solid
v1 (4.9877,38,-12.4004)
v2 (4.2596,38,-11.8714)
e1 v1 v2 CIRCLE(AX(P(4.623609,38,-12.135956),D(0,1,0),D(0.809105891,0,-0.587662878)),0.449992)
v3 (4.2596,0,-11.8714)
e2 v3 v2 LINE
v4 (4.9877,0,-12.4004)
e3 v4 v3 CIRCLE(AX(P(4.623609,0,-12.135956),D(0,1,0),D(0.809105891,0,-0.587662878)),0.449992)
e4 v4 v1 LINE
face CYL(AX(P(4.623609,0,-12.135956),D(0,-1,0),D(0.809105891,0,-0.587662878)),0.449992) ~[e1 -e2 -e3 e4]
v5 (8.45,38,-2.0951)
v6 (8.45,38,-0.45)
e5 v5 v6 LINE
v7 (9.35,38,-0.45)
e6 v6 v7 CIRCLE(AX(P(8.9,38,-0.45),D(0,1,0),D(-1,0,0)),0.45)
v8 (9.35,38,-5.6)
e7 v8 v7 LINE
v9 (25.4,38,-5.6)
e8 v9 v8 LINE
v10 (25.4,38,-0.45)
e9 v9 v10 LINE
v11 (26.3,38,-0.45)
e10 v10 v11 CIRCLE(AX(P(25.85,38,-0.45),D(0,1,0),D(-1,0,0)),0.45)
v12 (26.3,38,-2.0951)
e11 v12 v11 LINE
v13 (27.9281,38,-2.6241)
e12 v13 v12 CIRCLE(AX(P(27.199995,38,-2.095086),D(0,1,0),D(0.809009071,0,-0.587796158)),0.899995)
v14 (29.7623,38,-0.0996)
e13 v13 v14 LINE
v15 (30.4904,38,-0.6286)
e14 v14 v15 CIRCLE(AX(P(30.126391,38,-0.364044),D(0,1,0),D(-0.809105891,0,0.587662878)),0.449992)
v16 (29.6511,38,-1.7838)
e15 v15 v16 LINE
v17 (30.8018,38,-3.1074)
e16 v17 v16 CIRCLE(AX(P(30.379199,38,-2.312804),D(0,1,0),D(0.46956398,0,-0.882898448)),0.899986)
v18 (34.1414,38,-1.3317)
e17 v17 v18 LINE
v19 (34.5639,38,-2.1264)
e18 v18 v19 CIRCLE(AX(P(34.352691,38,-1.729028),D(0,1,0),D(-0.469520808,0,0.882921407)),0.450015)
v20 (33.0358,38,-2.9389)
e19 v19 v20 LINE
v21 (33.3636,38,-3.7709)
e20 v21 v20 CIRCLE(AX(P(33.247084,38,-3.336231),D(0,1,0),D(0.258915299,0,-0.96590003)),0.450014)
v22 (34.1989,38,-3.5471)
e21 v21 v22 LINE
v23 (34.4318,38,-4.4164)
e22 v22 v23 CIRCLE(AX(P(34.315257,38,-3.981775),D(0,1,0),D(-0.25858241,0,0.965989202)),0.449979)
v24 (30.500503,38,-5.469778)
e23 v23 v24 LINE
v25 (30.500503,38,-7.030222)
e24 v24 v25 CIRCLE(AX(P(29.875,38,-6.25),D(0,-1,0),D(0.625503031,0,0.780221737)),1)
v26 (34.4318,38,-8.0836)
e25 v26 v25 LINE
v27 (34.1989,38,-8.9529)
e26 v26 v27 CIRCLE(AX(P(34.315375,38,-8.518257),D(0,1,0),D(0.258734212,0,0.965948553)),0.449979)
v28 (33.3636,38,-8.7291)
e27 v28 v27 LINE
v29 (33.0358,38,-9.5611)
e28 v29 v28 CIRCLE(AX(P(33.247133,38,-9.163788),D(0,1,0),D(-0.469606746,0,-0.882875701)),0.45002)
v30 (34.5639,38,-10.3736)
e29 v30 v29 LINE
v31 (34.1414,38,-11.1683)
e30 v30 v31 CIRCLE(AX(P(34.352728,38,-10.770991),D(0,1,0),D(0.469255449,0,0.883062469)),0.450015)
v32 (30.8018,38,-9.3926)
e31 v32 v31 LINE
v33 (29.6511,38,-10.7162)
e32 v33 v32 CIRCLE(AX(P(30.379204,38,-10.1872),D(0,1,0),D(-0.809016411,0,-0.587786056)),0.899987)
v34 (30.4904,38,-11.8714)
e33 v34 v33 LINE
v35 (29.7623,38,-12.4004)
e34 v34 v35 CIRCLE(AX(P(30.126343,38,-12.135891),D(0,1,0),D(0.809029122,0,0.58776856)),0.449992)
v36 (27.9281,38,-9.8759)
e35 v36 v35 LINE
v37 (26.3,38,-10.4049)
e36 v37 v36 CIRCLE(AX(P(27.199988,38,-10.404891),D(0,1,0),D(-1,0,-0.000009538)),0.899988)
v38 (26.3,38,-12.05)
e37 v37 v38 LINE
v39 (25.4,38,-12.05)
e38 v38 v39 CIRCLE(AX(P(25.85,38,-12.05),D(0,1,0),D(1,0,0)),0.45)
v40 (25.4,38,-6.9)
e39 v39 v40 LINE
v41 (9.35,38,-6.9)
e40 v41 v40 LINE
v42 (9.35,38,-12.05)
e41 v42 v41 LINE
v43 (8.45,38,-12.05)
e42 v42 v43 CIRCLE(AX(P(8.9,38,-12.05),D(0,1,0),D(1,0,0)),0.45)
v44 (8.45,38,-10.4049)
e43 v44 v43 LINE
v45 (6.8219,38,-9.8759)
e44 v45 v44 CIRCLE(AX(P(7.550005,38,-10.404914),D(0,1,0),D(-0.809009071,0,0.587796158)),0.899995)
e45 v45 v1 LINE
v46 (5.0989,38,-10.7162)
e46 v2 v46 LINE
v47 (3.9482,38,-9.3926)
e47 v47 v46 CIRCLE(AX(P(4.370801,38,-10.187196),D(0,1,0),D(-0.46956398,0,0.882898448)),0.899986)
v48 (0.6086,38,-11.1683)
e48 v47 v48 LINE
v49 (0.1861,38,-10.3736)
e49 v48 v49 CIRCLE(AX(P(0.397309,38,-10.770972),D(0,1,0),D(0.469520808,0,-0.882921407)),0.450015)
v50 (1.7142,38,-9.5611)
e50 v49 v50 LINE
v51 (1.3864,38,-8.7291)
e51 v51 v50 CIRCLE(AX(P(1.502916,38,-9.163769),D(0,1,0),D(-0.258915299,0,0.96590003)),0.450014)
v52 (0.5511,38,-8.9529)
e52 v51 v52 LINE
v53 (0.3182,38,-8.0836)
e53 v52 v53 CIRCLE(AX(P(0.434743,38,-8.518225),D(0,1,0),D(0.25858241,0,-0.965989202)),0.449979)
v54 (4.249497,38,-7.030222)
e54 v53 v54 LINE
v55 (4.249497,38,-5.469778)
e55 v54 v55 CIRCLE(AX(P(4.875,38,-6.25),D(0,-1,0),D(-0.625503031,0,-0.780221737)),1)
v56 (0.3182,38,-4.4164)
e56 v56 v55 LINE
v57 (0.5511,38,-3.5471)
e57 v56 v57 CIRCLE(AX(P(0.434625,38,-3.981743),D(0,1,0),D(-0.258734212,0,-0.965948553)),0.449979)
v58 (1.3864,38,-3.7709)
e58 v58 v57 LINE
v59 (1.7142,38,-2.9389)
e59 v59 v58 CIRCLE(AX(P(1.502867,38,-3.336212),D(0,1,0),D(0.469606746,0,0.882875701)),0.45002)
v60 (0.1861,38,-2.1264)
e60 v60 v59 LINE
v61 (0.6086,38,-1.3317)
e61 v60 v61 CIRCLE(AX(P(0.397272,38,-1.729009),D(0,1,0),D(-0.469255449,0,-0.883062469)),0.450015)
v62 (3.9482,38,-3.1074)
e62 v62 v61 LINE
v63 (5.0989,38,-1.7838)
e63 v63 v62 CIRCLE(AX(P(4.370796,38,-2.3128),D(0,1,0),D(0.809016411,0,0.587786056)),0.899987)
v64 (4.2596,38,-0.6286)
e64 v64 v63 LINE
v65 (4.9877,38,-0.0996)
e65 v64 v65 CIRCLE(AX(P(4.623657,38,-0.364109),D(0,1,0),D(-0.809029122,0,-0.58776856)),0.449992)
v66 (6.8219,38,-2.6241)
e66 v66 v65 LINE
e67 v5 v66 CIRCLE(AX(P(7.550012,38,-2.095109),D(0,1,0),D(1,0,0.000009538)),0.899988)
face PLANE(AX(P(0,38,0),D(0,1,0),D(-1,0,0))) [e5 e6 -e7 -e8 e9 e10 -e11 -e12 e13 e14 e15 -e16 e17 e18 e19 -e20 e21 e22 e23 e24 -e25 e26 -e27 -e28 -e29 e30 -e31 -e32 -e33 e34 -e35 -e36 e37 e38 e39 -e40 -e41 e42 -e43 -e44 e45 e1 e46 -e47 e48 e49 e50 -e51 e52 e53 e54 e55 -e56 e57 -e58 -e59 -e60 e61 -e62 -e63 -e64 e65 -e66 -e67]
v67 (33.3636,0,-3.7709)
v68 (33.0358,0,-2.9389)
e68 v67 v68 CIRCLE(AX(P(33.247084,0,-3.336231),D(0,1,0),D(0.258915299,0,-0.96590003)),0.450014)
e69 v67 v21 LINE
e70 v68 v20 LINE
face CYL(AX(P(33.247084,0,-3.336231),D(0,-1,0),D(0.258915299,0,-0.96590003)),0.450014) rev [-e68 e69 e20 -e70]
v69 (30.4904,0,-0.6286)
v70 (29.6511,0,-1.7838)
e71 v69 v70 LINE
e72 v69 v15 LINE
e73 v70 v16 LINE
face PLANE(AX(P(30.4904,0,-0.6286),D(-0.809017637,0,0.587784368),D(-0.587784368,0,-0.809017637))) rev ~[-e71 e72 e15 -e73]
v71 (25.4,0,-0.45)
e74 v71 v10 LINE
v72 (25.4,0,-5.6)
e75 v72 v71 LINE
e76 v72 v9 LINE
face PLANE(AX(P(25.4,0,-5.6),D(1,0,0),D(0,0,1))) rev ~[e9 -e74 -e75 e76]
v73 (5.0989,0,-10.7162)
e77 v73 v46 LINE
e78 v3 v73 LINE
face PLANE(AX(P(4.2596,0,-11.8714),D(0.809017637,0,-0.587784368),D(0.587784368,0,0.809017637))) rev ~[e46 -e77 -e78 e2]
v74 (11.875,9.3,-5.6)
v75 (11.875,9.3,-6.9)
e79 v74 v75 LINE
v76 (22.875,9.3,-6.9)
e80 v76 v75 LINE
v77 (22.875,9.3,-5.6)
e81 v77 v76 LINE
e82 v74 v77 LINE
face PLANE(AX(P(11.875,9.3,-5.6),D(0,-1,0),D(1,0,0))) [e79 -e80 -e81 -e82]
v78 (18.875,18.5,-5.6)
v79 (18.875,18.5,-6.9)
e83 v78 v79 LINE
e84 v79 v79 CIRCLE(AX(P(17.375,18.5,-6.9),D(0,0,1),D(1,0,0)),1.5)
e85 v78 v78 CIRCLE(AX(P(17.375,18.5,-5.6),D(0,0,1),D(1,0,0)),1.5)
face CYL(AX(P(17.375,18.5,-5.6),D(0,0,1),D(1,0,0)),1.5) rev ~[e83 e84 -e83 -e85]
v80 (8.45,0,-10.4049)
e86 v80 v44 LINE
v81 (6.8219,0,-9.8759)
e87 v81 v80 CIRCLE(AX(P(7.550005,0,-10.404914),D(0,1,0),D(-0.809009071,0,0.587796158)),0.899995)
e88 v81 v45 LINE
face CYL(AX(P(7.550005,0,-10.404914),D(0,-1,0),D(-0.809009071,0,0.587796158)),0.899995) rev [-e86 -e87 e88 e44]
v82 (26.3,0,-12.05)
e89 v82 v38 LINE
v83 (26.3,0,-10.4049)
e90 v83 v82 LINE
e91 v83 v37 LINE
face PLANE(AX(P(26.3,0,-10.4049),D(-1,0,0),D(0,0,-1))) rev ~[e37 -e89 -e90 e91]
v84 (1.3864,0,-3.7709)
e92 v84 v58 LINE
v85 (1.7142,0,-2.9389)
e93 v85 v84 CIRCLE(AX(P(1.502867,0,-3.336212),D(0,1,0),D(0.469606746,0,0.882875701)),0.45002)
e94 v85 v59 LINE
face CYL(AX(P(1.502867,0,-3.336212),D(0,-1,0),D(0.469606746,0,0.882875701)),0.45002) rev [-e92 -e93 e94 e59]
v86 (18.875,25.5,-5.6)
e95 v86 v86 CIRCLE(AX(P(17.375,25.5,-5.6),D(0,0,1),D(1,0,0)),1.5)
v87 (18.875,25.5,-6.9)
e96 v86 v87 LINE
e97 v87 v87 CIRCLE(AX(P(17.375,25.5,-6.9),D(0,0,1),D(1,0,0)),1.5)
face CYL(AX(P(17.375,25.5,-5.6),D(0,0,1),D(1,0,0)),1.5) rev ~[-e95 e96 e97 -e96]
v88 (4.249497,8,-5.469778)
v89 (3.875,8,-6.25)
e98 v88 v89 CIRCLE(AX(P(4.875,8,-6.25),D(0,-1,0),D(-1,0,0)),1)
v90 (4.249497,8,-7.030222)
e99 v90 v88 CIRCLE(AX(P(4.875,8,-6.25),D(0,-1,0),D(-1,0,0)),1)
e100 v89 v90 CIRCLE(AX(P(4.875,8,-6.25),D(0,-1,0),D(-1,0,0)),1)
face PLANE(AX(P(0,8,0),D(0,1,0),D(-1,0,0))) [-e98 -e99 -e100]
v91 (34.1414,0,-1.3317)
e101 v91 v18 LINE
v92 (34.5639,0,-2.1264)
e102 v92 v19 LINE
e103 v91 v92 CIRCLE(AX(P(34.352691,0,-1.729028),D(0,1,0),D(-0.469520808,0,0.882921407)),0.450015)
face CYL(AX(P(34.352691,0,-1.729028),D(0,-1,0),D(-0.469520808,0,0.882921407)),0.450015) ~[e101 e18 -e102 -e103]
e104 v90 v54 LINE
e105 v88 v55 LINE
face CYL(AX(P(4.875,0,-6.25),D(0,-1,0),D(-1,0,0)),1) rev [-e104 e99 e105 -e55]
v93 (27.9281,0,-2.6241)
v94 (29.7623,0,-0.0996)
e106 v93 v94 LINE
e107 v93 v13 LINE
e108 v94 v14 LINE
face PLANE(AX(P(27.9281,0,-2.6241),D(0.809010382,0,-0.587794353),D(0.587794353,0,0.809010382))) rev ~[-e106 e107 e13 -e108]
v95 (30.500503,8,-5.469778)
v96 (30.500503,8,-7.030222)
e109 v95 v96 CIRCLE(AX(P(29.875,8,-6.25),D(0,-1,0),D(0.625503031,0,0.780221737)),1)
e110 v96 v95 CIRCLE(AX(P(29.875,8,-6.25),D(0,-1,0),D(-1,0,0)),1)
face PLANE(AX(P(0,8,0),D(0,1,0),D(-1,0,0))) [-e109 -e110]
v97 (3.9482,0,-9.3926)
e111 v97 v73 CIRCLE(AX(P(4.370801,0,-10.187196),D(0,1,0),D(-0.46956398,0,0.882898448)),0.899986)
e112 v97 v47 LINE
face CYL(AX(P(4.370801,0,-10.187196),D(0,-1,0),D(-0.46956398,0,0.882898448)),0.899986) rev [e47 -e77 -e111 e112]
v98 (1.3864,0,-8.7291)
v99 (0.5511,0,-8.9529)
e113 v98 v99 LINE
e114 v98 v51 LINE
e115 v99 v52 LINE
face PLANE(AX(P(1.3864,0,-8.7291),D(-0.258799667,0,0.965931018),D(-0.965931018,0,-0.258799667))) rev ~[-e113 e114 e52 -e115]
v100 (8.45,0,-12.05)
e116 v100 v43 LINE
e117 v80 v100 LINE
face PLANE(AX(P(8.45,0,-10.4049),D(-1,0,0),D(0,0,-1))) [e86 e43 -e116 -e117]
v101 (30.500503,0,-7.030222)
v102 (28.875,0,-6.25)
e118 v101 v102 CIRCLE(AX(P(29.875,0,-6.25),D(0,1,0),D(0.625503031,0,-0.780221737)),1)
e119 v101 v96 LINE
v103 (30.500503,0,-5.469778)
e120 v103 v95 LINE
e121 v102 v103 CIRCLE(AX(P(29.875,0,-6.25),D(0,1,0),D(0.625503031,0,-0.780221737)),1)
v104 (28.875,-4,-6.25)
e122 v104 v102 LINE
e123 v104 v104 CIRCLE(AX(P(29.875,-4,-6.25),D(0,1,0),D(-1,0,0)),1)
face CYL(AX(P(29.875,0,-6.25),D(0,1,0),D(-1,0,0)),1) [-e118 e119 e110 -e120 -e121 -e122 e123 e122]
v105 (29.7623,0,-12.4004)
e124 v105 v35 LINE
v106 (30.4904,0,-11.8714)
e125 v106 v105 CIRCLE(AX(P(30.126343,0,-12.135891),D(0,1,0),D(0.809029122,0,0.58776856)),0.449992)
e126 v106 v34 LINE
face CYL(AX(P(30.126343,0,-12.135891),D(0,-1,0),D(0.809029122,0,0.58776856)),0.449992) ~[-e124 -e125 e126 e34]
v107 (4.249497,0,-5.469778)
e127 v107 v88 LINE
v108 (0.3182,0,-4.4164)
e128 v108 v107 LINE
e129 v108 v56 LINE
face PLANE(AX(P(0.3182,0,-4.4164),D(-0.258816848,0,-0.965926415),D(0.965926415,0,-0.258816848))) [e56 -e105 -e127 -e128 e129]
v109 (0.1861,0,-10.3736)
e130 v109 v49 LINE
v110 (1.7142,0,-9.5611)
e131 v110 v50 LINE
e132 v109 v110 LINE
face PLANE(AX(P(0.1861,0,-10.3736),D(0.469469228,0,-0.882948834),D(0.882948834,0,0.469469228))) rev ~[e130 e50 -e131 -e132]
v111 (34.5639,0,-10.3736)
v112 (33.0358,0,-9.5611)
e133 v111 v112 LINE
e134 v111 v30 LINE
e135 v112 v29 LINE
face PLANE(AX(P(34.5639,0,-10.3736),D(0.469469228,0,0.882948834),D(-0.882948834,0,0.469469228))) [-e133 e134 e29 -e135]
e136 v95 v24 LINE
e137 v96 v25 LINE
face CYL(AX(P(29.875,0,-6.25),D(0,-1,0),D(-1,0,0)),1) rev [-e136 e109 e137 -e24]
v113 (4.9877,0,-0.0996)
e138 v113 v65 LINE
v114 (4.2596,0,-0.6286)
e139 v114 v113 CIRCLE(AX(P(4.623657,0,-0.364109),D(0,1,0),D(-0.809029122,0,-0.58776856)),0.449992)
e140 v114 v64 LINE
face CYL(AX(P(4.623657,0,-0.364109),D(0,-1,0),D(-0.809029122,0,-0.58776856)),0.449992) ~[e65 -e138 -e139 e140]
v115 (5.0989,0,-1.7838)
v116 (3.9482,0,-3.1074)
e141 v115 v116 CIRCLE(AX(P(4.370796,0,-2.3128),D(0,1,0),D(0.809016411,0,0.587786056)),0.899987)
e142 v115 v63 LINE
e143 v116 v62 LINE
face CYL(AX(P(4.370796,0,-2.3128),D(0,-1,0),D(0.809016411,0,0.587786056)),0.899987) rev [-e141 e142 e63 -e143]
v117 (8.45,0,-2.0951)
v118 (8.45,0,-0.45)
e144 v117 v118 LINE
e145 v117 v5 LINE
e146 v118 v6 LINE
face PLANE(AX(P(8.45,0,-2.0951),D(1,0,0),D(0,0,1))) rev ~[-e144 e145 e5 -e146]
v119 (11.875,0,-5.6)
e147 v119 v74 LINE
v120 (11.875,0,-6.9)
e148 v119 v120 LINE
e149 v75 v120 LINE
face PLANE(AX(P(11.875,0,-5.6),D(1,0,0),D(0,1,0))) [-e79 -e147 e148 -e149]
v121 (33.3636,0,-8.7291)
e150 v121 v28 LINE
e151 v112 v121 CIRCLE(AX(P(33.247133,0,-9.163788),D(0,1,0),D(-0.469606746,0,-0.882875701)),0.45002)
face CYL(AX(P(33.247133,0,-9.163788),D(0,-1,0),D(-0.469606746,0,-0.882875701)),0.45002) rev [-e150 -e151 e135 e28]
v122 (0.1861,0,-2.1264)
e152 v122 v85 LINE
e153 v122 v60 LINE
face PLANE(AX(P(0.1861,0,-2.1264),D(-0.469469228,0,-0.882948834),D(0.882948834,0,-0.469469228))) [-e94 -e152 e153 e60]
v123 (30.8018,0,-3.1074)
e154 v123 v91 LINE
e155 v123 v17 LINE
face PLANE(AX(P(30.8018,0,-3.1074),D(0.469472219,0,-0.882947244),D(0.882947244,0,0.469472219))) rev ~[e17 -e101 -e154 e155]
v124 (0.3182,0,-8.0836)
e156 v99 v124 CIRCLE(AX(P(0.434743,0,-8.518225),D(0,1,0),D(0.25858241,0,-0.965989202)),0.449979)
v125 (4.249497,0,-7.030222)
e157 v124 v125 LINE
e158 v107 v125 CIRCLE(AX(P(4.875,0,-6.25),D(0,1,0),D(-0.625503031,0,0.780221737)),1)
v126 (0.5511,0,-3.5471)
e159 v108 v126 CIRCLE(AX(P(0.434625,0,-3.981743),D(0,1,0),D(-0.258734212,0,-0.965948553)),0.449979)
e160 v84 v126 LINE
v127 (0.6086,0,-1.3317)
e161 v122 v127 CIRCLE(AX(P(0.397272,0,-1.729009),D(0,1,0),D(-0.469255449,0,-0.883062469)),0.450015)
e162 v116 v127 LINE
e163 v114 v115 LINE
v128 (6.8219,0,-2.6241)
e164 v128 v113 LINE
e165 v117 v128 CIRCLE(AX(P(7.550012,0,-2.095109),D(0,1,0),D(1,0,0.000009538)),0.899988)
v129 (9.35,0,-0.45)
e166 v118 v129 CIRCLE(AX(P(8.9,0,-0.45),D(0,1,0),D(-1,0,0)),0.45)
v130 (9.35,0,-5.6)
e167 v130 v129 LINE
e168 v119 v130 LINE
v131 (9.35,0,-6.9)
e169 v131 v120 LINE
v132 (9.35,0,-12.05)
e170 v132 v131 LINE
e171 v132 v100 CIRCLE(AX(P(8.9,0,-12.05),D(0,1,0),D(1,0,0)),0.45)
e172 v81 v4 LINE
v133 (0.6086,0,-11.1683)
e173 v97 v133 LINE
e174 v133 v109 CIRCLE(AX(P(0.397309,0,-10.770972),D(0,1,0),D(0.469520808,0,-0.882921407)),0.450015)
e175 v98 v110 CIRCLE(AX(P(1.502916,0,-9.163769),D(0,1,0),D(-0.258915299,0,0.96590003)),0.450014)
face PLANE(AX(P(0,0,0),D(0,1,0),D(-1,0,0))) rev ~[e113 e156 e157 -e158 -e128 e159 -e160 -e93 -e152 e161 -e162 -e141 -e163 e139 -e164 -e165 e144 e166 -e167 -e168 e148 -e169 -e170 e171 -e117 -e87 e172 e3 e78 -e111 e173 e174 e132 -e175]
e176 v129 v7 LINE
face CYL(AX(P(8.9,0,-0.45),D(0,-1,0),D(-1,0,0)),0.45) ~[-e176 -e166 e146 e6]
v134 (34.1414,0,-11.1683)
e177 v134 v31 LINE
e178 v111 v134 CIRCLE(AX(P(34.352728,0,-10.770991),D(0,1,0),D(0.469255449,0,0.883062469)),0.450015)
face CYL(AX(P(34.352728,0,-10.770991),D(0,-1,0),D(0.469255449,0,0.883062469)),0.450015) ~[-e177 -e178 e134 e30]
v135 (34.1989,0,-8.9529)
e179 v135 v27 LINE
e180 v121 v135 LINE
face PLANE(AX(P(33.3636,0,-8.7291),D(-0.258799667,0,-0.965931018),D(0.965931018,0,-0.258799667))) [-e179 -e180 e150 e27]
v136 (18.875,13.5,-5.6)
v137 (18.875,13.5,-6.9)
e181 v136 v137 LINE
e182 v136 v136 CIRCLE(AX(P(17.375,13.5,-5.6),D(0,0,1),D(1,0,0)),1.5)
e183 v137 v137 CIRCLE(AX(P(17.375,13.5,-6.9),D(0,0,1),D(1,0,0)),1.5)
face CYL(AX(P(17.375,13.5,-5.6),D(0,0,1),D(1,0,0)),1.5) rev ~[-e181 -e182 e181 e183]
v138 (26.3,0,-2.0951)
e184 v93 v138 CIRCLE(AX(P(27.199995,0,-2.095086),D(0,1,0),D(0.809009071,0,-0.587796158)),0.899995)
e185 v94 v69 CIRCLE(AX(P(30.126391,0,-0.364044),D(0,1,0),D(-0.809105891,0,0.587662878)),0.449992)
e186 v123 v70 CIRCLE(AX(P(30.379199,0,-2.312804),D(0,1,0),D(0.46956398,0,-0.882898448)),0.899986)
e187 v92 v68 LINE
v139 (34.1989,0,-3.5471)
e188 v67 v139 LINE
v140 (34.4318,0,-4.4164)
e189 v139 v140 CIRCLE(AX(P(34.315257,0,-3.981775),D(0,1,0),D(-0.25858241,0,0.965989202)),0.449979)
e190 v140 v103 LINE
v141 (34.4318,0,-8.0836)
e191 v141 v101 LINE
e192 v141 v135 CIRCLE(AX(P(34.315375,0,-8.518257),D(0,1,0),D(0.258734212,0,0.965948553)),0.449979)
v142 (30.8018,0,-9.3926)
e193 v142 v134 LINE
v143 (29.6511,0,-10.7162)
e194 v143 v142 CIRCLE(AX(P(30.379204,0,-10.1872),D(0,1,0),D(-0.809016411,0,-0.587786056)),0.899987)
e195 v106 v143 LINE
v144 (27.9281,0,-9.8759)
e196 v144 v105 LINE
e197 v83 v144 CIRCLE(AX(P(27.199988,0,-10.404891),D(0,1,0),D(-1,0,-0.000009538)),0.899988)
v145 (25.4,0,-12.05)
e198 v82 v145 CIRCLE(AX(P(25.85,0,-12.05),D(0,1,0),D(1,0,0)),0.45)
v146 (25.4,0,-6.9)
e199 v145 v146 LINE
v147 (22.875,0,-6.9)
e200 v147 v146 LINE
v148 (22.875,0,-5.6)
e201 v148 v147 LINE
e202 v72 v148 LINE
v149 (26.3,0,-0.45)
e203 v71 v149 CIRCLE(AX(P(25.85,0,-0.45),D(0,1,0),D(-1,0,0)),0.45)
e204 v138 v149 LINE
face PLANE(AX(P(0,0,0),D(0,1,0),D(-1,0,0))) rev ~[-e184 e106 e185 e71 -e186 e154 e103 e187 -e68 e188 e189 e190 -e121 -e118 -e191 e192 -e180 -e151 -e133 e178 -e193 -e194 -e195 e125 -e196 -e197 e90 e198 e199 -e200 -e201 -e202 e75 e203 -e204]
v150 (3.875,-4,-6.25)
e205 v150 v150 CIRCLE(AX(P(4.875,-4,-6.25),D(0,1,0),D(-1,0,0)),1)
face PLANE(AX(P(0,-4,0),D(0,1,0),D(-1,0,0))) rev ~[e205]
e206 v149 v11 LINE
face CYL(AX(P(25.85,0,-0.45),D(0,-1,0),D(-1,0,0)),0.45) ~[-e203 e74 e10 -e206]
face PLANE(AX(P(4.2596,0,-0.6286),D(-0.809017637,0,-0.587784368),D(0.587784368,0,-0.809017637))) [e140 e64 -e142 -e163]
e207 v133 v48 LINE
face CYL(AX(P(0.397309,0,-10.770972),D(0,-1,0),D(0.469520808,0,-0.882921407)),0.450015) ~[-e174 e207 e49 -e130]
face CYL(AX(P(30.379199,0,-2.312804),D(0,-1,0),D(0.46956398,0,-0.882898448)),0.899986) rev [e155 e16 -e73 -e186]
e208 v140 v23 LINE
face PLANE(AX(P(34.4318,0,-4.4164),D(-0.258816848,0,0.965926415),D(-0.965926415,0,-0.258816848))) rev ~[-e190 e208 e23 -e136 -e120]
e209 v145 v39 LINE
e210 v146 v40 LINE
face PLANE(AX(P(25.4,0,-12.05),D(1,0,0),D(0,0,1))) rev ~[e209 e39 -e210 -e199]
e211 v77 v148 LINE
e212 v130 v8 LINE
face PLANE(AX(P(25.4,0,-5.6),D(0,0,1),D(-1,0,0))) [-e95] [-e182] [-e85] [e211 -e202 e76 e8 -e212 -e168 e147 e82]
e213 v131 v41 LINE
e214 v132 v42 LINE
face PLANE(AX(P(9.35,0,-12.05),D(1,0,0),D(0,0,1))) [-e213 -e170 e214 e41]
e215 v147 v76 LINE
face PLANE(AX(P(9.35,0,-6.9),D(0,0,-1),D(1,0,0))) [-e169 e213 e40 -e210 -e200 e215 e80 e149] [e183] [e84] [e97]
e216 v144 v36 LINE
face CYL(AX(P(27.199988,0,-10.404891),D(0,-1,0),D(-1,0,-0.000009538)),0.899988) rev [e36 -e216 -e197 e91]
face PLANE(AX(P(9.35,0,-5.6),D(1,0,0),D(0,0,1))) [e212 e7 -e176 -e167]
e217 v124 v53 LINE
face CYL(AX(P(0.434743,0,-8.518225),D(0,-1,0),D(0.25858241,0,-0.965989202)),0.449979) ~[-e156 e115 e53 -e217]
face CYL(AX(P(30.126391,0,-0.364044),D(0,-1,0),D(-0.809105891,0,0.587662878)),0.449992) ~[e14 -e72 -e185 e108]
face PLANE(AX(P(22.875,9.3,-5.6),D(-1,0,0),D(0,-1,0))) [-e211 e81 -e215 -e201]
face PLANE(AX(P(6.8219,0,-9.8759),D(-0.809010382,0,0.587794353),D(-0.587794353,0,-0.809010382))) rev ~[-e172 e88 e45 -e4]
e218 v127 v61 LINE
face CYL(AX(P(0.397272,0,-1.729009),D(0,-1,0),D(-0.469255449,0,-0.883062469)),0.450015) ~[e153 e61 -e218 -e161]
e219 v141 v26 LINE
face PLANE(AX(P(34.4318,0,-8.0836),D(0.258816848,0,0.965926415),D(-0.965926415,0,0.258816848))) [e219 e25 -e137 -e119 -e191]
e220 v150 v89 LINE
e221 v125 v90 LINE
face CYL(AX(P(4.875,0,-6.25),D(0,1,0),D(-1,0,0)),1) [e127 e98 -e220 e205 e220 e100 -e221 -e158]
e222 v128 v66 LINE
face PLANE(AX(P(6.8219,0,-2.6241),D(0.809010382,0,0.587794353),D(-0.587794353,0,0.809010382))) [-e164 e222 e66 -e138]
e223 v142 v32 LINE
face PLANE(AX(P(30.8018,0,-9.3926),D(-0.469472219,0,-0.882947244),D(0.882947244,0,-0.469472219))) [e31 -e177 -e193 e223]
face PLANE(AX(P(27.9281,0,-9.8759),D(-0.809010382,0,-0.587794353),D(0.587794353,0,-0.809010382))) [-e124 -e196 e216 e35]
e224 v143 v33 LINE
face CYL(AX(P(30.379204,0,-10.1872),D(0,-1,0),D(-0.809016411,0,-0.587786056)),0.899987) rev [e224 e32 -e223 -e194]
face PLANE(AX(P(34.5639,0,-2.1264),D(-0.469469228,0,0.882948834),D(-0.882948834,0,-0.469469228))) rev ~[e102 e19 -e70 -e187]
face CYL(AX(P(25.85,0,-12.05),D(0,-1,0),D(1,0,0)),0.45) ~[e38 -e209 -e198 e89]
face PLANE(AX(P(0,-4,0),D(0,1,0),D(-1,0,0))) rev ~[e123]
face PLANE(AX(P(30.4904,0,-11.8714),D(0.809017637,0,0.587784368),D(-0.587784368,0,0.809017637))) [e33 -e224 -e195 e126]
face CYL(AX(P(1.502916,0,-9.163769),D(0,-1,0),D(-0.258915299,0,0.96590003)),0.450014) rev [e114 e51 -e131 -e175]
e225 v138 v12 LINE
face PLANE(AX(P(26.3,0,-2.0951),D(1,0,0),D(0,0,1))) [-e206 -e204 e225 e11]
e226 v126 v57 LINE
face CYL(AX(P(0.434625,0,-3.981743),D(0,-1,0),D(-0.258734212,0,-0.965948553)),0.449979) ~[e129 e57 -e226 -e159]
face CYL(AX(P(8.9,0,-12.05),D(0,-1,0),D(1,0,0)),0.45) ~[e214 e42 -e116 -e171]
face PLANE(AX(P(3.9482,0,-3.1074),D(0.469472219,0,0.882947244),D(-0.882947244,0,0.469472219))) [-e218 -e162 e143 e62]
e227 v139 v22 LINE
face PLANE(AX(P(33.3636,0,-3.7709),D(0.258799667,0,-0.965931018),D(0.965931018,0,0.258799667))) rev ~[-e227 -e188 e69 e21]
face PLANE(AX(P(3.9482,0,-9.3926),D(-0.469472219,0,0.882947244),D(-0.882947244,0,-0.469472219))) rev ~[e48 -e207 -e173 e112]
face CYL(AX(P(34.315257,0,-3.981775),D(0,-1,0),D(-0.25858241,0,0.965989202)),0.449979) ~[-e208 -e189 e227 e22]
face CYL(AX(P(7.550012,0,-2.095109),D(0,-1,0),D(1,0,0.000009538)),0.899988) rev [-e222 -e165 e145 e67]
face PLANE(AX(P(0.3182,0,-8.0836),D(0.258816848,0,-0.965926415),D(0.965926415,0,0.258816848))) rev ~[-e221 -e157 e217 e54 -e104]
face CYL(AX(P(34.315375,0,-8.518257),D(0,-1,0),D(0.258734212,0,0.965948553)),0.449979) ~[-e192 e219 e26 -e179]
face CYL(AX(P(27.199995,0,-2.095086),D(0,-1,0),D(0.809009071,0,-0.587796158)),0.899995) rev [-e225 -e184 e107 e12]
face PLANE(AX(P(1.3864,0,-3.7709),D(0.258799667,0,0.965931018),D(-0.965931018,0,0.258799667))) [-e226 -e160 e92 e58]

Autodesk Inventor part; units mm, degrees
ref_plane "YZ Plane" through (0, 0, 0) normal (1, 0, 0) x (0, 1, 0)
ref_plane "XZ Plane" through (0, 0, 0) normal (0, 1, 0) x (-1, 0, 0)
ref_plane "XY Plane" through (0, 0, 0) normal (0, 0, 1) x (1, 0, 0)
sketch "Sketch1" plane through (0, 0, 0) normal (0, 1, 0) x (-1, 0, 0)
  line L0 (-9.35, 0) -> (-9.35, -12.5) construction
  line L1 (-25.4, 0) -> (-25.4, -12.5) construction
  line L2 (-9.35, -6.9) -> (-25.4, -6.9)
  line L3 (-25.4, -6.9) -> (-25.4, -5.6)
  line L4 (-25.4, -5.6) -> (-9.35, -5.6)
  line L5 (-9.35, -5.6) -> (-9.35, -6.9)
  circle A0 centre (-4.875, -6.25) radius 1
  circle A1 centre (-29.875, -6.25) radius 1
  line L6 (-9.35, 0) -> (-8.9, 0) construction
  line L7 (-25.4, 0) -> (-25.85, 0) construction
  line L8 (-8.45, -10.4049) -> (-8.45, -12.05)
  line L9 (-9.35, -12.05) -> (-9.35, -0.45)
  arc A2 (-8.45, -0.45) -> (-9.35, -0.45) centre (-8.9, -0.45) ccw
  arc A3 (-9.35, -12.05) -> (-8.45, -12.05) centre (-8.9, -12.05) ccw
  line L10 (-25.4, -12.05) -> (-25.4, -0.45)
  arc A4 (-25.4, -0.45) -> (-26.3, -0.45) centre (-25.85, -0.45) ccw
  arc A5 (-26.3, -12.05) -> (-25.4, -12.05) centre (-25.85, -12.05) ccw
  line L11 (-6.8219, -9.8759) -> (-4.9877, -12.4004)
  line L12 (-4.2596, -11.8714) -> (-5.0989, -10.7162)
  arc A6 (-4.9877, -12.4004) -> (-4.2596, -11.8714) centre (-4.6236, -12.1359) ccw
  line L13 (-3.9482, -9.3926) -> (-0.6086, -11.1683)
  line L14 (-0.1861, -10.3736) -> (-1.7142, -9.5611)
  arc A7 (-0.6086, -11.1683) -> (-0.1861, -10.3736) centre (-0.3973, -10.771) ccw
  line L15 (-1.3864, -8.7291) -> (-0.5511, -8.9529)
  line L16 (-0.3182, -8.0836) -> (-8.3489, -5.9318)
  arc A8 (-0.5511, -8.9529) -> (-0.3182, -8.0836) centre (-0.4347, -8.5183) ccw
  arc A9 (-6.8219, -9.8759) -> (-8.45, -10.4049) centre (-7.55, -10.4049) ccw
  arc A10 (-3.9482, -9.3926) -> (-5.0989, -10.7162) centre (-4.3708, -10.1872) ccw
  arc A11 (-1.3864, -8.7291) -> (-1.7142, -9.5611) centre (-1.5029, -9.1638) ccw
  line L17 (-8.45, -2.0951) -> (-8.45, -0.45)
  line L18 (-6.8219, -2.6241) -> (-4.9877, -0.0996)
  line L19 (-4.2596, -0.6286) -> (-5.0989, -1.7838)
  arc A12 (-4.2596, -0.6286) -> (-4.9877, -0.0996) centre (-4.6236, -0.3641) ccw
  line L20 (-3.9482, -3.1074) -> (-0.6086, -1.3317)
  line L21 (-0.1861, -2.1264) -> (-1.7142, -2.9389)
  arc A13 (-0.1861, -2.1264) -> (-0.6086, -1.3317) centre (-0.3973, -1.729) ccw
  line L22 (-1.3864, -3.7709) -> (-0.5511, -3.5471)
  line L23 (-0.3182, -4.4164) -> (-8.3489, -6.5682)
  arc A14 (-0.3182, -4.4164) -> (-0.5511, -3.5471) centre (-0.4347, -3.9817) ccw
  arc A15 (-8.45, -2.0951) -> (-6.8219, -2.6241) centre (-7.55, -2.0951) ccw
  arc A16 (-5.0989, -1.7838) -> (-3.9482, -3.1074) centre (-4.3708, -2.3128) ccw
  arc A17 (-1.7142, -2.9389) -> (-1.3864, -3.7709) centre (-1.5029, -3.3362) ccw
  line L24 (-26.3, -10.4049) -> (-26.3, -12.05)
  arc A18 (-26.3, -12.05) -> (-25.4, -12.05) centre (-25.85, -12.05) ccw
  line L25 (-27.9281, -9.8759) -> (-29.7623, -12.4004)
  line L26 (-30.4904, -11.8714) -> (-29.6511, -10.7162)
  arc A19 (-30.4904, -11.8714) -> (-29.7623, -12.4004) centre (-30.1264, -12.1359) ccw
  line L27 (-30.8018, -9.3926) -> (-34.1414, -11.1683)
  line L28 (-34.5639, -10.3736) -> (-33.0358, -9.5611)
  arc A20 (-34.5639, -10.3736) -> (-34.1414, -11.1683) centre (-34.3527, -10.771) ccw
  line L29 (-33.3636, -8.7291) -> (-34.1989, -8.9529)
  line L30 (-34.4318, -8.0836) -> (-26.4011, -5.9318)
  arc A21 (-34.4318, -8.0836) -> (-34.1989, -8.9529) centre (-34.3153, -8.5183) ccw
  arc A22 (-26.3, -10.4049) -> (-27.9281, -9.8759) centre (-27.2, -10.4049) ccw
  arc A23 (-29.6511, -10.7162) -> (-30.8018, -9.3926) centre (-30.3792, -10.1872) ccw
  arc A24 (-33.0358, -9.5611) -> (-33.3636, -8.7291) centre (-33.2471, -9.1638) ccw
  line L31 (-26.3, -2.0951) -> (-26.3, -0.45)
  arc A25 (-27.9281, -2.6241) -> (-26.3, -2.0951) centre (-27.2, -2.0951) ccw
  line L32 (-27.9281, -2.6241) -> (-29.7623, -0.0996)
  arc A26 (-29.7623, -0.0996) -> (-30.4904, -0.6286) centre (-30.1264, -0.3641) ccw
  line L33 (-30.4904, -0.6286) -> (-29.6511, -1.7838)
  arc A27 (-30.8018, -3.1074) -> (-29.6511, -1.7838) centre (-30.3792, -2.3128) ccw
  line L34 (-30.8018, -3.1074) -> (-34.1414, -1.3317)
  arc A28 (-34.1414, -1.3317) -> (-34.5639, -2.1264) centre (-34.3527, -1.729) ccw
  line L35 (-34.5639, -2.1264) -> (-33.0358, -2.9389)
  arc A29 (-33.3636, -3.7709) -> (-33.0358, -2.9389) centre (-33.2471, -3.3362) ccw
  line L36 (-33.3636, -3.7709) -> (-34.1989, -3.5471)
  arc A30 (-34.1989, -3.5471) -> (-34.4318, -4.4164) centre (-34.3153, -3.9817) ccw
  line L37 (-34.4318, -4.4164) -> (-26.4011, -6.5682)
  point P0 (0, 0)
  point P1 (-25.85, -6.25)
  point P2 (-6.6296, -9.375)
  point P3 (-4.45, -8.6161)
  point P4 (-4.45, -7.4424)
  point P5 (-30.5005, -5.4698)
  point P6 (-30.5005, -7.0302)
  point P7 (-4.2495, -7.0302)
  point P8 (-4.2495, -5.4698)
extrude "Extrusion1" add sketch "Sketch1" along normal blind 38 contours L2 L3 L4 L5 | L5 L9 A2 L17 A15 L18 A12 L19 A16 L20 A13 L21 A17 L22 A14 L23 A0 L16 A8 L15 A11 L14 A7 L13 A10 L12 A6 L11 A9 L8 A3 | L10 A5 L24 A22 L25 A19 L26 A23 L27 A20 L28 A24 L29 A21 L30 A1 L37 A30 L36 A29 L35 A28 L34 A27 L33 A26 L32 A25 L31 A4 L3 | L16 L23 A0 | A1 L37 L30 picked at (-6.2987, -6.25) picked at (-28.4488, -6.2912)
extrude "Extrusion2" add sketch "Sketch1" along normal blind 8 and the other way blind 4 contours L16 A0 L23 | A0 L16 | L30 A1 | A1 L37 L30 | L23 A0 | A1 L37 picked at (-4.6521, -6.705) picked at (-30.1259, -6.0659)
sketch "Sketch2" plane through (9.35, 0, -5.6) normal (0, 0, 1) x (1, 0, 0)
  line L0 (0, 0) -> (16.05, 0) construction
  line L1 (8.025, 0) -> (13.525, 0) construction
  line L2 (13.525, 0) -> (2.525, 0)
  line L3 (2.525, 0) -> (2.525, 9.3)
  line L4 (2.525, 9.3) -> (13.525, 9.3)
  line L5 (13.525, 9.3) -> (13.525, 0)
  line L6 (0, 38) -> (16.05, 38) construction
  circle A0 centre (8.025, 25.5) radius 1.5
  circle A1 centre (8.025, 18.5) radius 1.5
  circle A2 centre (8.025, 13.5) radius 1.5
  point P0 (-9.35, 0)
extrude "Extrusion3" cut sketch "Sketch2" against normal through all
properties part number "Steren Heatsink" material "Aluminum 6061"
